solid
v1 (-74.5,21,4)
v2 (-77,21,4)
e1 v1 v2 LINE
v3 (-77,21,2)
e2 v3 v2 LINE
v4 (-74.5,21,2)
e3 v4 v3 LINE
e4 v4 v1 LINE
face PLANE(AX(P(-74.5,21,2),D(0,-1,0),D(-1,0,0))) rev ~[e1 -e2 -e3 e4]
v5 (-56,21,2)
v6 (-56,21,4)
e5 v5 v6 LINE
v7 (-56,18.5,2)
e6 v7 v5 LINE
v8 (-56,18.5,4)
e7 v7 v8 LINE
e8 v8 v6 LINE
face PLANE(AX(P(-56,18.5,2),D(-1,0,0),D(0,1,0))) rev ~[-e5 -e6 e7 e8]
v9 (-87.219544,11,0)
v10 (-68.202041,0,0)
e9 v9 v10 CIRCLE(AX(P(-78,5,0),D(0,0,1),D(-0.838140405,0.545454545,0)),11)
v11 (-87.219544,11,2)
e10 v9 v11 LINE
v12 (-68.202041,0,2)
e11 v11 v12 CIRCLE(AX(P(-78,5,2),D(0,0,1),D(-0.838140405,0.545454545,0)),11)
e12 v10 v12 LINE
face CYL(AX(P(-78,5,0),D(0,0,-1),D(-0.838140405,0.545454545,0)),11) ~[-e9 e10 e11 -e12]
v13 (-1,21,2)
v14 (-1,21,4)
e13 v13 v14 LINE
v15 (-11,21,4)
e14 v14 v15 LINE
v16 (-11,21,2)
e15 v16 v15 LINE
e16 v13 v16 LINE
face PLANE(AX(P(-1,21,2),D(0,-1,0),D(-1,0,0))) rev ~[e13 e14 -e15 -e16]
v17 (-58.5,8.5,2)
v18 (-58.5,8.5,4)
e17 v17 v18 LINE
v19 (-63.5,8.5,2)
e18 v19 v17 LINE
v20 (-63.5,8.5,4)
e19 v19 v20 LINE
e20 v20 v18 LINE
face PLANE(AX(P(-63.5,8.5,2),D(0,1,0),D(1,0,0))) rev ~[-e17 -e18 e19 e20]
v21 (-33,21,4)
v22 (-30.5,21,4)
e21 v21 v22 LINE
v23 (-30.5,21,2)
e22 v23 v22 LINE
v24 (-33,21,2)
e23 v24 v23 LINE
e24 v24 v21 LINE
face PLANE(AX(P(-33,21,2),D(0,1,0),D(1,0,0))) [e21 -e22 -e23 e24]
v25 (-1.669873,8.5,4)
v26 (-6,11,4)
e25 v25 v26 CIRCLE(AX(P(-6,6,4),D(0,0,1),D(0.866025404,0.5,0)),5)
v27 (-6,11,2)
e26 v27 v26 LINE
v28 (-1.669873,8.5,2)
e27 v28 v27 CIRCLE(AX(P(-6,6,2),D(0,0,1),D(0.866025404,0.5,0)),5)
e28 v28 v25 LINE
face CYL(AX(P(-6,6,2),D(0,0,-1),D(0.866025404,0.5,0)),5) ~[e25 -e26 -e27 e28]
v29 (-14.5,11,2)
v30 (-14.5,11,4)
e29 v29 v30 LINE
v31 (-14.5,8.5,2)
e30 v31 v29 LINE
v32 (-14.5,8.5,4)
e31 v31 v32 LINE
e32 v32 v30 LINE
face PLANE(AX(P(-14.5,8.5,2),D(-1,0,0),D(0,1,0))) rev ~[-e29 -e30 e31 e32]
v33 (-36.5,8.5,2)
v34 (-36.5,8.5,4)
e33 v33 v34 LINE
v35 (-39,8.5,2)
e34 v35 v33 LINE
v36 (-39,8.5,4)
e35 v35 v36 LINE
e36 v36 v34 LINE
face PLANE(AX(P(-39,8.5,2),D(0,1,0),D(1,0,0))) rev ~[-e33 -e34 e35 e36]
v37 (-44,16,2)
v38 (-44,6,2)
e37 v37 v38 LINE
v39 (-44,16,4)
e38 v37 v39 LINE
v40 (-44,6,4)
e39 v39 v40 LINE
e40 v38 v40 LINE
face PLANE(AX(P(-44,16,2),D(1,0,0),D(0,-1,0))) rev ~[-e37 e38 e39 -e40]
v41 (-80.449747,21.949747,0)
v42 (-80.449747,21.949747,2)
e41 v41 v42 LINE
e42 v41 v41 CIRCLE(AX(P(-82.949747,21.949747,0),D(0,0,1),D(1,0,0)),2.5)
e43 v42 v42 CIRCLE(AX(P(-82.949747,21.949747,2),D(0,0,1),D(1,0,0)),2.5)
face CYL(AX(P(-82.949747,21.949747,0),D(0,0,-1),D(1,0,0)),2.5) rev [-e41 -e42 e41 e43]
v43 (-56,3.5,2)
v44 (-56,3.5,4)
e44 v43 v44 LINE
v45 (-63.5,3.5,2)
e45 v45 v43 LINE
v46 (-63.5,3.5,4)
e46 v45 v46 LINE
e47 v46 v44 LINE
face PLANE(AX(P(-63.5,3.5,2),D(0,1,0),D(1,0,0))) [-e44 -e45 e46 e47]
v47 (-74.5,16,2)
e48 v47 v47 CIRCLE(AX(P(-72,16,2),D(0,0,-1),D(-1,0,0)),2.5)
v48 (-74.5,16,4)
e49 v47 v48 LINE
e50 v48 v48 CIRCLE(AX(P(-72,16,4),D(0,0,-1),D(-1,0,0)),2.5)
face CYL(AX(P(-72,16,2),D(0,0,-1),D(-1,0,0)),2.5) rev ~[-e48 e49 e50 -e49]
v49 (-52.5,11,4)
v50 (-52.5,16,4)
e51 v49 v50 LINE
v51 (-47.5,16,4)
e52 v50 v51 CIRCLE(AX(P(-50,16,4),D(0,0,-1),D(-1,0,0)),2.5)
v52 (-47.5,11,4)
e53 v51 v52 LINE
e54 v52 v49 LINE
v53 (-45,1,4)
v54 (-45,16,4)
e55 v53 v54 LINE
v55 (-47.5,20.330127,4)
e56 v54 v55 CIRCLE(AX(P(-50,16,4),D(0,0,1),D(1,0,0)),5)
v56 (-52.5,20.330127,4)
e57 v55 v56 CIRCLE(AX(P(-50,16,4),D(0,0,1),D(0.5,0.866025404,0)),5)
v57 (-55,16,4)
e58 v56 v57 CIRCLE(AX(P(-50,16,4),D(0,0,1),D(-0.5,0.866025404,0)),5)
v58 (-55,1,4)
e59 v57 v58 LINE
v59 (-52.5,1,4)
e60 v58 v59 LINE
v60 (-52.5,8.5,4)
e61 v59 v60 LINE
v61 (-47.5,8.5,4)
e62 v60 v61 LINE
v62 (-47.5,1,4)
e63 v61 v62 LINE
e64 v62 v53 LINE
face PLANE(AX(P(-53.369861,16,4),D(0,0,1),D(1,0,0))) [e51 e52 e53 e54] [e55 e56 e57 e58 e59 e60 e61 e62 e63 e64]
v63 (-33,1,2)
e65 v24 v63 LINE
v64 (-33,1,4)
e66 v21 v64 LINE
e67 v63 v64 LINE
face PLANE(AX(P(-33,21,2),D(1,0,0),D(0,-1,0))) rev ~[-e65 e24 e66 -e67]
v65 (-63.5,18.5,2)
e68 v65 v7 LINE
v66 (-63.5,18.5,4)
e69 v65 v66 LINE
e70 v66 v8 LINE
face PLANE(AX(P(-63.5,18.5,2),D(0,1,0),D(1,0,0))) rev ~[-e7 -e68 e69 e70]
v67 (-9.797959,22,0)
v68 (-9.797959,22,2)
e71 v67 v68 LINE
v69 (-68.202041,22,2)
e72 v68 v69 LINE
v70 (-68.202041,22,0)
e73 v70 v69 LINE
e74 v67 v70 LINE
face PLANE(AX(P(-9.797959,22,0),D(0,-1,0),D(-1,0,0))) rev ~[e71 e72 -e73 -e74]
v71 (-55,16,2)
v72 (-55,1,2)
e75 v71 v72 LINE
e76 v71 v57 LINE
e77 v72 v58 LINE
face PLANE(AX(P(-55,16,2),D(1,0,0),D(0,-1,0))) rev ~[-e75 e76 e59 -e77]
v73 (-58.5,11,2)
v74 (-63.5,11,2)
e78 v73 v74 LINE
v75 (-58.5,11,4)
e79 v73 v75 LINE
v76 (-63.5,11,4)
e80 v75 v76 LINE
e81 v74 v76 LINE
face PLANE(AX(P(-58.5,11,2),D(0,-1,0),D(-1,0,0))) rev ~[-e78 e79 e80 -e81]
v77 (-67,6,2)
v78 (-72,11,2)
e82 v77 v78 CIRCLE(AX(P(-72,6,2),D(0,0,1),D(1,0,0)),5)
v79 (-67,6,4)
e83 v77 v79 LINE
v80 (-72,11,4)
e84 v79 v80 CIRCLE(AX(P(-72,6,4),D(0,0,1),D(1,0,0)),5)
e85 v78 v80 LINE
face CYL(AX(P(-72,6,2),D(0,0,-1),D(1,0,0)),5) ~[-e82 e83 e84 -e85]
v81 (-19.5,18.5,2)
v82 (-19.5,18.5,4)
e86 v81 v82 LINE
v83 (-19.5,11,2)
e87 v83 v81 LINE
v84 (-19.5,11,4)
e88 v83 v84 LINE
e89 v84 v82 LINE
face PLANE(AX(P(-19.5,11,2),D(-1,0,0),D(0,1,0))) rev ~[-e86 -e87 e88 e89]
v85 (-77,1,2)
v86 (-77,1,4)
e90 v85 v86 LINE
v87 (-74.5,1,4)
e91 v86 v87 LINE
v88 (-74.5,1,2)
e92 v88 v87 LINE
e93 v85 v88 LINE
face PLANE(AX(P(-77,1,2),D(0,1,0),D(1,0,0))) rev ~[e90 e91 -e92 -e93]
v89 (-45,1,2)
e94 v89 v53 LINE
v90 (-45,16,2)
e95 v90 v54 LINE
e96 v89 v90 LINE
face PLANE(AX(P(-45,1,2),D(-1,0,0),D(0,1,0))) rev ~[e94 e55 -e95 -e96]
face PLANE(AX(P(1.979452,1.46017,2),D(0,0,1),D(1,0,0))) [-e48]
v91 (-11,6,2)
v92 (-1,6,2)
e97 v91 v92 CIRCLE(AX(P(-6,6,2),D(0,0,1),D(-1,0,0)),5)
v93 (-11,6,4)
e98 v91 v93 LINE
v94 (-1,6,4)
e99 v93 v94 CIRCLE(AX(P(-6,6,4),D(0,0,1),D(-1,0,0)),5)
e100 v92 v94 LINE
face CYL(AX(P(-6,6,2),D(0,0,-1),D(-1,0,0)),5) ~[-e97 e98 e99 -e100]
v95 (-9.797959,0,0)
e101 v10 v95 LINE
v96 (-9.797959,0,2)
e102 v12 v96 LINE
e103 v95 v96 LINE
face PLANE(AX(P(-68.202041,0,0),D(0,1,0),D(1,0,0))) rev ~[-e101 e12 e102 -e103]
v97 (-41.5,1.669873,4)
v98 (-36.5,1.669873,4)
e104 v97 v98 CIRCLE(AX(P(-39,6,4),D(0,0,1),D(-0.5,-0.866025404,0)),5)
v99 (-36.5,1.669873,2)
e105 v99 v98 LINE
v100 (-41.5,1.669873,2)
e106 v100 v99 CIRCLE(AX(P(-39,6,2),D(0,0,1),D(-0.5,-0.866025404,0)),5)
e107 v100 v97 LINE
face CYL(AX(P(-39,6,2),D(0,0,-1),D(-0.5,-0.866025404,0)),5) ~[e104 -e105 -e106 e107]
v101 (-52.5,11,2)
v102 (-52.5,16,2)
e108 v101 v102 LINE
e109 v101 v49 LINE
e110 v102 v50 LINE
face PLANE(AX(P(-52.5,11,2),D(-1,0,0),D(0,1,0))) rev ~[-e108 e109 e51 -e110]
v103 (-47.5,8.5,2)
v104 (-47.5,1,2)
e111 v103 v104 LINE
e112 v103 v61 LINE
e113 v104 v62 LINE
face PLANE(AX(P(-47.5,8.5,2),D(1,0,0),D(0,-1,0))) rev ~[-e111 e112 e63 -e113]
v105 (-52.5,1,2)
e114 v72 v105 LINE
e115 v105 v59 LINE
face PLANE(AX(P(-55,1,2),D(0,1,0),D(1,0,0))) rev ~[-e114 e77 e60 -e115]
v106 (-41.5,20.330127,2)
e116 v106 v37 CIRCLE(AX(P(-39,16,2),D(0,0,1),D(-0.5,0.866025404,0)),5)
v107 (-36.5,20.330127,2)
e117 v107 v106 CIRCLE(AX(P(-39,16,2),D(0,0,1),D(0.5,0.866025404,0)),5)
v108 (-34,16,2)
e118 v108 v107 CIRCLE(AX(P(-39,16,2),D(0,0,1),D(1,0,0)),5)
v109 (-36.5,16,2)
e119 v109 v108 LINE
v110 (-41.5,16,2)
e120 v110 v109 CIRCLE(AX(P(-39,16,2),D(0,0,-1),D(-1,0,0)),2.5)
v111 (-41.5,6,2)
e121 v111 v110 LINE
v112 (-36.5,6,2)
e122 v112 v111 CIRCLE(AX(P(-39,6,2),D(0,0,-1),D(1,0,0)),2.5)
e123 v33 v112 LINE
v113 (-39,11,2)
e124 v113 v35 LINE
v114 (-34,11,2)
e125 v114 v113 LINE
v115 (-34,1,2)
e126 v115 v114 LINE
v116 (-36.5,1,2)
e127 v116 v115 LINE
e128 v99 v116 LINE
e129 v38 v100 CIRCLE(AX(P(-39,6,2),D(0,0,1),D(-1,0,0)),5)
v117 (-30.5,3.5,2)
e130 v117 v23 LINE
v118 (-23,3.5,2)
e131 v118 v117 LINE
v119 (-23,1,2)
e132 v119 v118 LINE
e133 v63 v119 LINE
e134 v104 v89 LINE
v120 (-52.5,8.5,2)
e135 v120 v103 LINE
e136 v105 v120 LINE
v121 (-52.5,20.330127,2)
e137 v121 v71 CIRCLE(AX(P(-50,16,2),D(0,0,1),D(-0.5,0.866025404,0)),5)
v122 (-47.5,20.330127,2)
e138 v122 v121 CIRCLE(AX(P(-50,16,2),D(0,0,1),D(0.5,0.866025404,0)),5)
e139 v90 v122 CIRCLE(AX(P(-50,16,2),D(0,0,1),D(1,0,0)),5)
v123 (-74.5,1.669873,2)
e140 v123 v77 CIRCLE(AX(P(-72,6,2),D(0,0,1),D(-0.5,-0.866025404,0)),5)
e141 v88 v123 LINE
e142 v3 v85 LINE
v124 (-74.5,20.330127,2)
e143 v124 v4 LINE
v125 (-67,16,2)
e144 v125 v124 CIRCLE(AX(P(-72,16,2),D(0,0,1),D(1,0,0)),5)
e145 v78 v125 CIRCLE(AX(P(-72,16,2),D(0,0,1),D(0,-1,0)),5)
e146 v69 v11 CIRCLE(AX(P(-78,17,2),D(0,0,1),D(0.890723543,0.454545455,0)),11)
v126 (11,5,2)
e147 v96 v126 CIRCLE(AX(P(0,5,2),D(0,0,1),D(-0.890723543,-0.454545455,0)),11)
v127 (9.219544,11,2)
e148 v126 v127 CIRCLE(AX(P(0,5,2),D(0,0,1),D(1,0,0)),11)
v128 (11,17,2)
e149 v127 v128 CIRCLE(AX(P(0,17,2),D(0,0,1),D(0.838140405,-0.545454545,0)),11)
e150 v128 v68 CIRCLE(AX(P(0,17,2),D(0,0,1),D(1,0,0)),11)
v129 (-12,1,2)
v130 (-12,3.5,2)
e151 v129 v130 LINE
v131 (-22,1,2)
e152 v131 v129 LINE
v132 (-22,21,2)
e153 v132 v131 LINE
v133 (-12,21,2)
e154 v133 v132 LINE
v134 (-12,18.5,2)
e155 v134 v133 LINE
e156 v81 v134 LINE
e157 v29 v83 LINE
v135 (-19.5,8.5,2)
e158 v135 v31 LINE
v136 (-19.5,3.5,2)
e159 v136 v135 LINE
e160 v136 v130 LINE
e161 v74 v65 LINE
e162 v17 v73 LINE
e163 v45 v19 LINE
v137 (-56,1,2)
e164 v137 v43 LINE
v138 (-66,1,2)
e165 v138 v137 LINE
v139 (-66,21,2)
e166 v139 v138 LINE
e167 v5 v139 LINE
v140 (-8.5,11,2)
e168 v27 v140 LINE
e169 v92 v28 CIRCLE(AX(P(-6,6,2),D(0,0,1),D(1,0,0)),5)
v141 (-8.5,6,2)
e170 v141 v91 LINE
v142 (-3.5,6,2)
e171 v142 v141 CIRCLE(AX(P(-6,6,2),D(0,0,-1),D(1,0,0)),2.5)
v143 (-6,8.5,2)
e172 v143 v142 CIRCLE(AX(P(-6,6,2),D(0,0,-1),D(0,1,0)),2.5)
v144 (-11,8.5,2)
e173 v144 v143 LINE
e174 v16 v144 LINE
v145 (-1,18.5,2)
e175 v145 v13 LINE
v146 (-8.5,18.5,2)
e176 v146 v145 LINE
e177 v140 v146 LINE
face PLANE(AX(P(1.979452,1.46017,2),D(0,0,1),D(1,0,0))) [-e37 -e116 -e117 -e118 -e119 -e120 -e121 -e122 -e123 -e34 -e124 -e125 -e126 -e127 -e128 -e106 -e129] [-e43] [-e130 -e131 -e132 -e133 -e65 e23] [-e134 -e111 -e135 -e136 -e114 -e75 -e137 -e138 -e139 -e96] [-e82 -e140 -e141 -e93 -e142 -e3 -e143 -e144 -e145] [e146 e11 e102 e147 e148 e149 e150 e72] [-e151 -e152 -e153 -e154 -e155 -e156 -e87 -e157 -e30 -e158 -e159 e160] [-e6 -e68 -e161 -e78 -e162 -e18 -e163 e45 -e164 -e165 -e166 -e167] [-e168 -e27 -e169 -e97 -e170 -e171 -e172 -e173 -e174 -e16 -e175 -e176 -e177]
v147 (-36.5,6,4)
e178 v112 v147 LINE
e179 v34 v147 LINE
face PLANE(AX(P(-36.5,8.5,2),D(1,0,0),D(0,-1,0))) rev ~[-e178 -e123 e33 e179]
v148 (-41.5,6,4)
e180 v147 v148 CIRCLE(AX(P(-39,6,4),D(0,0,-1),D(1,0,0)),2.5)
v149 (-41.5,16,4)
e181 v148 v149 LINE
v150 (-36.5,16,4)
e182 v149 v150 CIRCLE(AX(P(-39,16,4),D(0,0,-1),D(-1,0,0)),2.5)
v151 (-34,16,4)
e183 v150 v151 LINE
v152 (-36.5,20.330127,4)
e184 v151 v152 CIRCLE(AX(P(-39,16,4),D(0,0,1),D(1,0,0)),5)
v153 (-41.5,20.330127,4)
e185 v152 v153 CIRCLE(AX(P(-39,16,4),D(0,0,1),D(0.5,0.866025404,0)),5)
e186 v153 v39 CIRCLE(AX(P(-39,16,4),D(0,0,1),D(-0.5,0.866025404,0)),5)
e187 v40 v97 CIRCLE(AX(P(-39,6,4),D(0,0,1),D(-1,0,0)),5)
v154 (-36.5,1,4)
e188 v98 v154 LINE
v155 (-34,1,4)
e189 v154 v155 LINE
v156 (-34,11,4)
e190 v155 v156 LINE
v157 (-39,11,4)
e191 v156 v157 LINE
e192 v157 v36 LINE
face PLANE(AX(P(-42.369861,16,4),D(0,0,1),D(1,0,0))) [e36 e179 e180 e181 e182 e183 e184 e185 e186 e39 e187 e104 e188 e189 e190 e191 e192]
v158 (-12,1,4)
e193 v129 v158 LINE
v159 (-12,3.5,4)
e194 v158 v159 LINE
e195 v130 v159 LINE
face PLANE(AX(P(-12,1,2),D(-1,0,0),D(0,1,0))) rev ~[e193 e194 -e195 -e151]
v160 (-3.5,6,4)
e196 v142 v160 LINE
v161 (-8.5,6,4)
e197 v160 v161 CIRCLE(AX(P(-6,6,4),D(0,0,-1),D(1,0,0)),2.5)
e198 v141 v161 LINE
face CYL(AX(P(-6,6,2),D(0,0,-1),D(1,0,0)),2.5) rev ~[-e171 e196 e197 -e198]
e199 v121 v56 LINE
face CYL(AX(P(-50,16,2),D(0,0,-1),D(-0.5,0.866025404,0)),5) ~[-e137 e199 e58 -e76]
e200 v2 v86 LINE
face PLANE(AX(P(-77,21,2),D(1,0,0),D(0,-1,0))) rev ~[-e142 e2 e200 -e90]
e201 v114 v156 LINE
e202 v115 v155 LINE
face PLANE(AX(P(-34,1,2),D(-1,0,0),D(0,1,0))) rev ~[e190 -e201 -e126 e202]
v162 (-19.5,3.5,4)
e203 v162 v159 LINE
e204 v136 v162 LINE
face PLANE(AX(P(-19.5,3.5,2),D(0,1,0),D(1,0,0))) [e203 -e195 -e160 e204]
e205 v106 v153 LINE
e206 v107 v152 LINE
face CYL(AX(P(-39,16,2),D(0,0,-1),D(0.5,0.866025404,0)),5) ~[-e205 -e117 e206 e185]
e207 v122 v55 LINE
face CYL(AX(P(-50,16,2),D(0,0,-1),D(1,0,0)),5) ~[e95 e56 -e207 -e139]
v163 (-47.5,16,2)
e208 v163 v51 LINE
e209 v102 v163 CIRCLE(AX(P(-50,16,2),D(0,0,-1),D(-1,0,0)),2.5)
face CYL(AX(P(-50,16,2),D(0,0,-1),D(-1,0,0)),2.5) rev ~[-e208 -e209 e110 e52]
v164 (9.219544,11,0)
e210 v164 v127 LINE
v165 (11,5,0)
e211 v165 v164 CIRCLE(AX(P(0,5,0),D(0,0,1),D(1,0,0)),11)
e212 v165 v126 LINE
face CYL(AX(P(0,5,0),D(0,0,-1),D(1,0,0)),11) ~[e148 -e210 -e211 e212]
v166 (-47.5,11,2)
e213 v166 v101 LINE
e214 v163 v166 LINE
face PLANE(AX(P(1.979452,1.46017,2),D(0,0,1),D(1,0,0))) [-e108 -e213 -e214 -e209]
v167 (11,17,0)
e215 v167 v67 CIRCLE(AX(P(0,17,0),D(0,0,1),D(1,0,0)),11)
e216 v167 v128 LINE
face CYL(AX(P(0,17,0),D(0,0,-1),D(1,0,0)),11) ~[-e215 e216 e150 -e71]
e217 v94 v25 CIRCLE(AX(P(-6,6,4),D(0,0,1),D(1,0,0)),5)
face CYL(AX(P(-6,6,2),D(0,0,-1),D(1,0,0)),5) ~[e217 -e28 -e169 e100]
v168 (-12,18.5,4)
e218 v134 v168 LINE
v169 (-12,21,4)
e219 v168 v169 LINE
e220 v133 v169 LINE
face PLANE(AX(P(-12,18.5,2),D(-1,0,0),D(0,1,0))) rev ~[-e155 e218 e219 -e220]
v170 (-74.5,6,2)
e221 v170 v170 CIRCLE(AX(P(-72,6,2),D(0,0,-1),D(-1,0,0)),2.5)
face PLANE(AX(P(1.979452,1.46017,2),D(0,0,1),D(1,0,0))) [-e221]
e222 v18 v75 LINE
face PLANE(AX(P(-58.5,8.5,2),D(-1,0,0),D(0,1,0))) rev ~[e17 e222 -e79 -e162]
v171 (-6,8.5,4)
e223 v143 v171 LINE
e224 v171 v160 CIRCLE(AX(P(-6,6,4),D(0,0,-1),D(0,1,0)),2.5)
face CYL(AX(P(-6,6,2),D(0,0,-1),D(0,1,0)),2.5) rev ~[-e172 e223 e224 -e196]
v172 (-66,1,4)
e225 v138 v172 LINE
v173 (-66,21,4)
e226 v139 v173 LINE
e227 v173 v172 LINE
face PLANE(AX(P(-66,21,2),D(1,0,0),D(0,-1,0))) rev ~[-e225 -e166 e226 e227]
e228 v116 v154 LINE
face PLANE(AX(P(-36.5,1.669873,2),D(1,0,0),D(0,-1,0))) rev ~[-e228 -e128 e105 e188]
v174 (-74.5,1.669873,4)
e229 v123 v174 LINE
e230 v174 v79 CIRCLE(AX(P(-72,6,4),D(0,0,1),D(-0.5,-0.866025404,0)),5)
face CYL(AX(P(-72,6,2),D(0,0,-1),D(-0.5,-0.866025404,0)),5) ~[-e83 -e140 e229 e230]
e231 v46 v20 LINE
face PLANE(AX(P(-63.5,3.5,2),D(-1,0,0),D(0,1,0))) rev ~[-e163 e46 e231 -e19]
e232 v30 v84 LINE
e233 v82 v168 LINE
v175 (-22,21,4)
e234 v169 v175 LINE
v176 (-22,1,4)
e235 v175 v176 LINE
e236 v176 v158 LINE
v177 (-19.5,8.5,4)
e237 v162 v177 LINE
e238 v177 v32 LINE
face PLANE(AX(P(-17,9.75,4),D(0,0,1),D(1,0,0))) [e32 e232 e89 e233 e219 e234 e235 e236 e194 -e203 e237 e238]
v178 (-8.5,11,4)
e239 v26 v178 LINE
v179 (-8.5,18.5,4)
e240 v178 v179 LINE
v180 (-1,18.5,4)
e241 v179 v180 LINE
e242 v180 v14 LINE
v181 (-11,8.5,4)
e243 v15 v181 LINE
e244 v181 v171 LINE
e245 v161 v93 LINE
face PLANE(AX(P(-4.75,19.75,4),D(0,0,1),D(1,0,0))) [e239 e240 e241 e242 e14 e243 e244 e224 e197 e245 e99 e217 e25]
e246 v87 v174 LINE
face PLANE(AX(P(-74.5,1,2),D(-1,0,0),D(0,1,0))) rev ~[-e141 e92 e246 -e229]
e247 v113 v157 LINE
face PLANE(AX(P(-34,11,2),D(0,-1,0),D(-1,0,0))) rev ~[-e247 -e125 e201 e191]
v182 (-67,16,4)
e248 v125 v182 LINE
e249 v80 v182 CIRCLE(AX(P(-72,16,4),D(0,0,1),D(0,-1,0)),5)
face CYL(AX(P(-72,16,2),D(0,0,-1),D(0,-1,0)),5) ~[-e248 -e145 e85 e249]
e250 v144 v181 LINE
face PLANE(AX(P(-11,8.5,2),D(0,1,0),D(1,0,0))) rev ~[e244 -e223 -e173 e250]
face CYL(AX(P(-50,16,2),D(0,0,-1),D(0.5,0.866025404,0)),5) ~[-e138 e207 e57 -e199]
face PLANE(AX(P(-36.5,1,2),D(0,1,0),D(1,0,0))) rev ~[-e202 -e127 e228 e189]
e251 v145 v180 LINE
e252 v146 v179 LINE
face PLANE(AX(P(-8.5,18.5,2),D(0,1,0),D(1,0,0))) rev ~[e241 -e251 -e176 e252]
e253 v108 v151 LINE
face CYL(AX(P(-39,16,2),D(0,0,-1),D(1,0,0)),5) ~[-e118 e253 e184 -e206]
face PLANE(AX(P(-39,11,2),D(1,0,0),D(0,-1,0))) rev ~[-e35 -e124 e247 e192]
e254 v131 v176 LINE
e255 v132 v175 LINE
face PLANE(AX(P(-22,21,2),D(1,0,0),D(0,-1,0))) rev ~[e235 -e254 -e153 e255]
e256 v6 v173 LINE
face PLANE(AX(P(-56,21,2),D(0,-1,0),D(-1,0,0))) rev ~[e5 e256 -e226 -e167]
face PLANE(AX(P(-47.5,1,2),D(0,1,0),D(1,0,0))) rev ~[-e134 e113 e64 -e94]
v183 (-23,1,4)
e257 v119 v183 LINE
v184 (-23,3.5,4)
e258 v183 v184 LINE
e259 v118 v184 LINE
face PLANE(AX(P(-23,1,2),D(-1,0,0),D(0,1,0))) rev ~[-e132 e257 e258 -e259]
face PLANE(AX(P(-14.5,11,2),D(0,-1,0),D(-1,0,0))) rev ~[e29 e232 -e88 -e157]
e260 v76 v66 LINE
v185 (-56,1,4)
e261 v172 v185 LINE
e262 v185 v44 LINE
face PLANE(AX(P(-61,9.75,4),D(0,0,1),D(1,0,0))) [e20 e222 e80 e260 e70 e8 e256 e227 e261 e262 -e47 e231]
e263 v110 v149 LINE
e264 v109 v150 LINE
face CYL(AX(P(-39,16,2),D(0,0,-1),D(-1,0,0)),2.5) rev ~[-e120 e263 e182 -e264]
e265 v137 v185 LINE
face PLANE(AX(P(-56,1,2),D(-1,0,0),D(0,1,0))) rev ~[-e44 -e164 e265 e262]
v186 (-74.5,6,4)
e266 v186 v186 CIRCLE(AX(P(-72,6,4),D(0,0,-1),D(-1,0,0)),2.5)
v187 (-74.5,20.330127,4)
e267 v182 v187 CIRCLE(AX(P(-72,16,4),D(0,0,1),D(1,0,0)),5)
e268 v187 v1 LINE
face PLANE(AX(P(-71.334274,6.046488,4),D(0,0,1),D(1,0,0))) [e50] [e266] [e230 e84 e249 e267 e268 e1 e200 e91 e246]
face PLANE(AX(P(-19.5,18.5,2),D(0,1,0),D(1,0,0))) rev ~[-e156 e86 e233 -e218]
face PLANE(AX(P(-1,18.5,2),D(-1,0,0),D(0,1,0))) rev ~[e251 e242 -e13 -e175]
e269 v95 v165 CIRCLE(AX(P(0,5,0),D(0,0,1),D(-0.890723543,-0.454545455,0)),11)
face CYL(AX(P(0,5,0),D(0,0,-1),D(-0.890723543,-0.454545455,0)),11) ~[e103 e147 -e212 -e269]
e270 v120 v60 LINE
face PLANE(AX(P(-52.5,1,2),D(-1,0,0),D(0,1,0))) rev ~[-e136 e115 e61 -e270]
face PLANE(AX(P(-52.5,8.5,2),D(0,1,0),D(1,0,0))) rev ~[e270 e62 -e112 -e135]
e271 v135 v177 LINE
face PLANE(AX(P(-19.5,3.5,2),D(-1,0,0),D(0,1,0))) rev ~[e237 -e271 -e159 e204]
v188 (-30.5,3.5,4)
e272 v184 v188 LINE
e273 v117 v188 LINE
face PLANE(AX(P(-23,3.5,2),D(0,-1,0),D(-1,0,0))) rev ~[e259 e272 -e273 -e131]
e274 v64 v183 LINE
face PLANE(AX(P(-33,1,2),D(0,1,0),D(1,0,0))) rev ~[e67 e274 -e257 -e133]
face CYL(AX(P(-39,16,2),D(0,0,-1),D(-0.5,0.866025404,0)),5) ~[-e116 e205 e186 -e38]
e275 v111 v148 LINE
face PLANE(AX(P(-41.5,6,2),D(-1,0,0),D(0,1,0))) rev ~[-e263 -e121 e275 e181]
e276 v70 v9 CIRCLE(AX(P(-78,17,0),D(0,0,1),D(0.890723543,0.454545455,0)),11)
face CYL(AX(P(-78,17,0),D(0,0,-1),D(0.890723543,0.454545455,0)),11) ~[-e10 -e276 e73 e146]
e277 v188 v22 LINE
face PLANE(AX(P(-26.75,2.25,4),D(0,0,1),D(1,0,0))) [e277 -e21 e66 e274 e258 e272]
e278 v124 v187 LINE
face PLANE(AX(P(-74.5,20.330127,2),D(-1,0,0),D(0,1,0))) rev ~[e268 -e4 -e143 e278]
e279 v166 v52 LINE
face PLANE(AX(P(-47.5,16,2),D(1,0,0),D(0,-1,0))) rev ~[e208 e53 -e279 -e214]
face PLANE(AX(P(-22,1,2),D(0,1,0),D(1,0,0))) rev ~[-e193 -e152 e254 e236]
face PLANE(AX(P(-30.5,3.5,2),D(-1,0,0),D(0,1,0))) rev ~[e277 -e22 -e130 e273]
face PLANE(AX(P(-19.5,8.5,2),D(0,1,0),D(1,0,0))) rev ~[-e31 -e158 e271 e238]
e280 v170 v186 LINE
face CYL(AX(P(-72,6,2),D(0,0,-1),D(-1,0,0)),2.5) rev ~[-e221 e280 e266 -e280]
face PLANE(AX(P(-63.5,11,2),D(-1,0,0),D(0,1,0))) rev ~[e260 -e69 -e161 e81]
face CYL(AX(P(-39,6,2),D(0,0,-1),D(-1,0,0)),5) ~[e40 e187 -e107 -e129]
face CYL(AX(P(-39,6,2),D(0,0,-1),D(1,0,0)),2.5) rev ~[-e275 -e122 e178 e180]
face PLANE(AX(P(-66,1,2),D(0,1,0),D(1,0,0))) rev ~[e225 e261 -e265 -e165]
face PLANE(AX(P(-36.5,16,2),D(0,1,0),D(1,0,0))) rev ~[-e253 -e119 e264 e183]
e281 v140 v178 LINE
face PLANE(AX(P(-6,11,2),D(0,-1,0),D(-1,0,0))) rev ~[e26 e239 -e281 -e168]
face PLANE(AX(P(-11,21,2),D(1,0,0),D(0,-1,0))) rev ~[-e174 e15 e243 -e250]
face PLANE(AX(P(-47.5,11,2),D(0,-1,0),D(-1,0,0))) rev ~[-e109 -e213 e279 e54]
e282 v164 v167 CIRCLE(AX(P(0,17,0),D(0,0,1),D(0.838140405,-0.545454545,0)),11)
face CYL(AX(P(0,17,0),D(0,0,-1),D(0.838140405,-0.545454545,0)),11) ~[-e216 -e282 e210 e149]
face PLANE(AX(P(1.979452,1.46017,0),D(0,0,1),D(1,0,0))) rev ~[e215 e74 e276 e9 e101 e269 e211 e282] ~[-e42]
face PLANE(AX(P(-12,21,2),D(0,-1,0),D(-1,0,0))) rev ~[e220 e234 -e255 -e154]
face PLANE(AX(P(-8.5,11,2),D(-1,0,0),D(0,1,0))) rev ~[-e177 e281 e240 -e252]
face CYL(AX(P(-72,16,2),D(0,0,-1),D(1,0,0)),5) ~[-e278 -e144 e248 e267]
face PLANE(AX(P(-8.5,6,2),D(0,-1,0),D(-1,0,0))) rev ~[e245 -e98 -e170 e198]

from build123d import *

# Parameters (mm, degrees)
F0_R     = 2.5
F1_DEPTH = 2
F2_W     = 7.5
F2_H     = 2.5
F2_W_2   = 2.5
F2_H_2   = 7.5
F2_W_3   = 5
F2_H_3   = 5
F2_H_4   = 17.5
F3_DEPTH = 2


with BuildPart() as f1:
    # F0 (on Top) → F1 (new body)
    with BuildSketch(Plane.XY):
        with BuildLine():
            Line((0, 6), (0, 0))
            Line((0, 0), (-9.7979589711, 0))
            ThreePointArc((-9.7979589711, 0), (2.5712303784, -5.695268783), (11, 5))
            ThreePointArc((11, 5), (10.5454964091, 8.129297922), (9.2195444573, 11))
            ThreePointArc((9.2195444573, 11), (5.2440442409, 7.3304601971), (0, 6))
        make_face()
        with BuildLine():
            Line((-9.7979589711, 0), (0, 0))
            Line((0, 0), (0, 6))
            ThreePointArc((0, 6), (-5.2440442409, 7.3304601971), (-9.2195444573, 11))
            ThreePointArc((-9.2195444573, 11), (-10.9848240388, 5.5776165142), (-9.7979589711, 0))
        make_face()
        with BuildLine():
            Line((-68.2020410289, 0), (-9.7979589711, 0))
            ThreePointArc((-9.7979589711, 0), (-10.9848240388, 5.5776165142), (-9.2195444573, 11))
            ThreePointArc((-9.2195444573, 11), (-10.9848240388, 16.4223834858), (-9.7979589711, 22))
            Line((-9.7979589711, 22), (-68.2020410289, 22))
            ThreePointArc((-68.2020410289, 22), (-67.304731217, 19.5712303784), (-67, 17))
            ThreePointArc((-67, 17), (-67.4545035909, 13.870702078), (-68.7804555427, 11))
            ThreePointArc((-68.7804555427, 11), (-67.4545035909, 8.129297922), (-67, 5))
            ThreePointArc((-67, 5), (-67.304731217, 2.4287696216), (-68.2020410289, 0))
        make_face()
        with BuildLine():
            Line((0, 16), (0, 6))
            ThreePointArc((0, 6), (5.2440442409, 7.3304601971), (9.2195444573, 11))
            ThreePointArc((9.2195444573, 11), (5.2440442409, 14.6695398029), (0, 16))
        make_face()
        with BuildLine():
            ThreePointArc((-87.2195444573, 11), (-83.5075984637, -4.5218884242), (-68.2020410289, 0))
            Line((-68.2020410289, 0), (-78, 0))
            Line((-78, 0), (-78, 6))
            ThreePointArc((-78, 6), (-83.2440442409, 7.3304601971), (-87.2195444573, 11))
        make_face()
        with BuildLine():
            Line((-78, 0), (-68.2020410289, 0))
            ThreePointArc((-68.2020410289, 0), (-67.304731217, 2.4287696216), (-67, 5))
            ThreePointArc((-67, 5), (-67.4545035909, 8.129297922), (-68.7804555427, 11))
            ThreePointArc((-68.7804555427, 11), (-72.7559557591, 7.3304601971), (-78, 6))
            Line((-78, 6), (-78, 0))
        make_face()
        with BuildLine():
            ThreePointArc((-9.7979589711, 22), (-10.9848240388, 16.4223834858), (-9.2195444573, 11))
            ThreePointArc((-9.2195444573, 11), (-5.2440442409, 14.6695398029), (0, 16))
            Line((0, 16), (0, 22))
            Line((0, 22), (-9.7979589711, 22))
        make_face()
        with BuildLine():
            Line((0, 22), (0, 16))
            ThreePointArc((0, 16), (5.2440442409, 14.6695398029), (9.2195444573, 11))
            ThreePointArc((9.2195444573, 11), (10.5454964091, 13.870702078), (11, 17))
            ThreePointArc((11, 17), (2.5712303784, 27.695268783), (-9.7979589711, 22))
            Line((-9.7979589711, 22), (0, 22))
        make_face()
        with BuildLine():
            ThreePointArc((-78, 16), (-83.2440442409, 14.6695398029), (-87.2195444573, 11))
            ThreePointArc((-87.2195444573, 11), (-83.2440442409, 7.3304601971), (-78, 6))
            Line((-78, 6), (-78, 16))
        make_face()
        with BuildLine():
            ThreePointArc((-68.2020410289, 22), (-83.5075984637, 26.5218884242), (-87.2195444573, 11))
            ThreePointArc((-87.2195444573, 11), (-83.2440442409, 14.6695398029), (-78, 16))
            Line((-78, 16), (-78, 22))
            Line((-78, 22), (-68.2020410289, 22))
        make_face()
        with Locations((-82.9497474683, 21.9497474683)):
            Circle(F0_R, mode=Mode.SUBTRACT)
        with BuildLine():
            ThreePointArc((-67, 17), (-67.304731217, 19.5712303784), (-68.2020410289, 22))
            Line((-68.2020410289, 22), (-78, 22))
            Line((-78, 22), (-78, 16))
            ThreePointArc((-78, 16), (-72.7559557591, 14.6695398029), (-68.7804555427, 11))
            ThreePointArc((-68.7804555427, 11), (-67.4545035909, 13.870702078), (-67, 17))
        make_face()
        with BuildLine():
            Line((-78, 16), (-78, 6))
            ThreePointArc((-78, 6), (-72.7559557591, 7.3304601971), (-68.7804555427, 11))
            ThreePointArc((-68.7804555427, 11), (-72.7559557591, 14.6695398029), (-78, 16))
        make_face()
        with BuildLine():
            ThreePointArc((-9.2195444573, 11), (-5.2440442409, 7.3304601971), (0, 6))
            Line((0, 6), (0, 16))
            ThreePointArc((0, 16), (-5.2440442409, 14.6695398029), (-9.2195444573, 11))
        make_face()
    extrude(amount=F1_DEPTH)

    # F2 (on face) → F3 (join)
    with BuildSketch(Plane.XY.offset(2)):
        with Locations((-4.75, 19.75)):
            Rectangle(F2_W, F2_H)
        with Locations((-9.75, 19.75)):
            Rectangle(F2_W_2, F2_H)
        with Locations((-9.75, 14.75)):
            Rectangle(F2_W_2, F2_H_2)
        with BuildLine():
            Line((-8.5, 11), (-11, 11))
            Line((-11, 11), (-11, 8.5))
            Line((-11, 8.5), (-10.3301270189, 8.5))
            ThreePointArc((-10.3301270189, 8.5), (-8.5, 10.3301270189), (-6, 11))
            Line((-6, 11), (-8.5, 11))
        make_face()
        with BuildLine():
            ThreePointArc((-1.6698729811, 8.5), (-3.5, 10.3301270189), (-6, 11))
            ThreePointArc((-6, 11), (-8.5, 10.3301270189), (-10.3301270189, 8.5))
            Line((-10.3301270189, 8.5), (-6, 8.5))
            Line((-6, 8.5), (-1.6698729811, 8.5))
        make_face()
        with BuildLine():
            Line((-8.5, 6), (-11, 6))
            ThreePointArc((-11, 6), (-6, 1), (-1, 6))
            ThreePointArc((-1, 6), (-1.1703708686, 7.2940952255), (-1.6698729811, 8.5))
            Line((-1.6698729811, 8.5), (-6, 8.5))
            ThreePointArc((-6, 8.5), (-4.232233047, 7.767766953), (-3.5, 6))
            ThreePointArc((-3.5, 6), (-6, 3.5), (-8.5, 6))
        make_face()
        with Locations((-17, 9.75)):
            Rectangle(F2_W_3, F2_H)
        with Locations((-20.75, 9.75)):
            Rectangle(F2_W_2, F2_H)
        with Locations((-20.75, 14.75)):
            Rectangle(F2_W_2, F2_H_2)
        with Locations((-20.75, 19.75)):
            Rectangle(F2_W_2, F2_H)
        with Locations((-15.75, 19.75)):
            Rectangle(F2_W, F2_H)
        with Locations((-20.75, 6)):
            Rectangle(F2_W_2, F2_H_3)
        with Locations((-20.75, 2.25)):
            Rectangle(F2_W_2, F2_H)
        with Locations((-15.75, 2.25)):
            Rectangle(F2_W, F2_H)
        with Locations((-26.75, 2.25)):
            Rectangle(F2_W, F2_H)
        with Locations((-31.75, 2.25)):
            Rectangle(F2_W_2, F2_H)
        with Locations((-31.75, 12.25)):
            Rectangle(F2_W_2, F2_H_4)
        with BuildLine():
            Line((-41.5, 16), (-41.5, 20.3301270189))
            ThreePointArc((-41.5, 20.3301270189), (-43.3301270189, 18.5), (-44, 16))
            ThreePointArc((-44, 16), (-43.3301270189, 13.5), (-41.5, 11.6698729811))
            Line((-41.5, 11.6698729811), (-41.5, 16))
        make_face()
        with BuildLine():
            ThreePointArc((-41.5, 11.6698729811), (-43.3301270189, 13.5), (-44, 16))
            Line((-44, 16), (-44, 11))
            Line((-44, 11), (-41.5, 11))
            Line((-41.5, 11), (-41.5, 11.6698729811))
        make_face()
        with BuildLine():
            ThreePointArc((-43.3301270189, 8.5), (-42.5355339059, 9.5355339059), (-41.5, 10.3301270189))
            Line((-41.5, 10.3301270189), (-41.5, 11))
            Line((-41.5, 11), (-44, 11))
            Line((-44, 11), (-44, 8.5))
            Line((-44, 8.5), (-43.3301270189, 8.5))
        make_face()
        with BuildLine():
            Line((-41.5, 8.5), (-43.3301270189, 8.5))
            ThreePointArc((-43.3301270189, 8.5), (-43.8296291314, 7.2940952255), (-44, 6))
            ThreePointArc((-44, 6), (-43.3301270189, 3.5), (-41.5, 1.6698729811))
            Line((-41.5, 1.6698729811), (-41.5, 5.9999999784))
            Line((-41.5, 5.9999999784), (-41.5, 8.5))
        make_face()
        with BuildLine():
            ThreePointArc((-44, 6), (-43.8296291314, 7.2940952255), (-43.3301270189, 8.5))
            Line((-43.3301270189, 8.5), (-44, 8.5))
            Line((-44, 8.5), (-44, 6))
        make_face()
        with BuildLine():
            Line((-41.5, 8.5), (-41.5, 10.3301270189))
            ThreePointArc((-41.5, 10.3301270189), (-42.5355339059, 9.5355339059), (-43.3301270189, 8.5))
            Line((-43.3301270189, 8.5), (-41.5, 8.5))
        make_face()
        with BuildLine():
            ThreePointArc((-36.5, 10.3301270189), (-37.7059047745, 10.8296291314), (-39, 11))
            Line((-39, 11), (-39, 8.5))
            Line((-39, 8.5), (-36.5, 8.5))
            Line((-36.5, 8.5), (-36.5, 10.3301270189))
        make_face()
        with BuildLine():
            Line((-36.5, 11), (-39, 11))
            ThreePointArc((-39, 11), (-37.7059047745, 10.8296291314), (-36.5, 10.3301270189))
            Line((-36.5, 10.3301270189), (-36.5, 11))
        make_face()
        with BuildLine():
            Line((-34, 11), (-36.5, 11))
            Line((-36.5, 11), (-36.5, 10.3301270189))
            ThreePointArc((-36.5, 10.3301270189), (-35.4644660941, 9.5355339059), (-34.6698729811, 8.5))
            Line((-34.6698729811, 8.5), (-34, 8.5))
            Line((-34, 8.5), (-34, 11))
        make_face()
        with BuildLine():
            ThreePointArc((-34.6698729811, 8.5), (-35.4644660941, 9.5355339059), (-36.5, 10.3301270189))
            Line((-36.5, 10.3301270189), (-36.5, 8.5))
            Line((-36.5, 8.5), (-34.6698729811, 8.5))
        make_face()
        with BuildLine():
            ThreePointArc((-34, 6), (-34.1703708686, 7.2940952255), (-34.6698729811, 8.5))
            Line((-34.6698729811, 8.5), (-36.5, 8.5))
            Line((-36.5, 8.5), (-36.5, 6))
            Line((-36.5, 6), (-36.5, 1.6698729811))
            ThreePointArc((-36.5, 1.6698729811), (-34.6698729811, 3.5), (-34, 6))
        make_face()
        with BuildLine():
            Line((-34, 8.5), (-34.6698729811, 8.5))
            ThreePointArc((-34.6698729811, 8.5), (-34.1703708686, 7.2940952255), (-34, 6))
            Line((-34, 6), (-34, 8.5))
        make_face()
        with BuildLine():
            Line((-34, 1), (-34, 6))
            ThreePointArc((-34, 6), (-34.6698729811, 3.5), (-36.5, 1.6698729811))
            Line((-36.5, 1.6698729811), (-36.5, 1))
            Line((-36.5, 1), (-34, 1))
        make_face()
        with BuildLine():
            Line((-36.5, 1.6698729811), (-36.5, 6))
            ThreePointArc((-36.5, 6), (-38.9999999892, 3.5), (-41.5, 5.9999999784))
            Line((-41.5, 5.9999999784), (-41.5, 1.6698729811))
            ThreePointArc((-41.5, 1.6698729811), (-39, 1), (-36.5, 1.6698729811))
        make_face()
        with BuildLine():
            Line((-36.5, 16), (-34, 16))
            ThreePointArc((-34, 16), (-34.6698729811, 18.5), (-36.5, 20.3301270189))
            Line((-36.5, 20.3301270189), (-36.5, 16))
        make_face()
        with BuildLine():
            Line((-36.5, 16), (-36.5, 20.3301270189))
            ThreePointArc((-36.5, 20.3301270189), (-39, 21), (-41.5, 20.3301270189))
            Line((-41.5, 20.3301270189), (-41.5, 16))
            ThreePointArc((-41.5, 16), (-39, 18.5), (-36.5, 16))
        make_face()
        with BuildLine():
            ThreePointArc((-52.5, 20.3301270189), (-54.3301270189, 18.5), (-55, 16))
            ThreePointArc((-55, 16), (-54.3301270189, 13.5), (-52.5, 11.6698729811))
            Line((-52.5, 11.6698729811), (-52.5, 16))
            Line((-52.5, 16), (-52.5, 20.3301270189))
        make_face()
        with BuildLine():
            Line((-55, 16), (-55, 11))
            Line((-55, 11), (-52.5, 11))
            Line((-52.5, 11), (-52.5, 11.6698729811))
            ThreePointArc((-52.5, 11.6698729811), (-54.3301270189, 13.5), (-55, 16))
        make_face()
        with Locations((-53.75, 9.75)):
            Rectangle(F2_W_2, F2_H)
        with Locations((-53.75, 4.75)):
            Rectangle(F2_W_2, F2_H_2)
        with Locations((-46.25, 4.75)):
            Rectangle(F2_W_2, F2_H_2)
        with Locations((-46.25, 9.75)):
            Rectangle(F2_W_2, F2_H)
        with BuildLine():
            Line((-47.5, 11.6698729811), (-47.5, 11))
            Line((-47.5, 11), (-45, 11))
            Line((-45, 11), (-45, 16))
            ThreePointArc((-45, 16), (-45.6698729811, 13.5), (-47.5, 11.6698729811))
        make_face()
        with BuildLine():
            ThreePointArc((-45, 16), (-45.6698729811, 18.5), (-47.5, 20.3301270189))
            Line((-47.5, 20.3301270189), (-47.5, 16))
            Line((-47.5, 16), (-47.5, 11.6698729811))
            ThreePointArc((-47.5, 11.6698729811), (-45.6698729811, 13.5), (-45, 16))
        make_face()
        with BuildLine():
            ThreePointArc((-47.5, 20.3301270189), (-50, 21), (-52.5, 20.3301270189))
            Line((-52.5, 20.3301270189), (-52.5, 16))
            ThreePointArc((-52.5, 16), (-50, 18.5), (-47.5, 16))
            Line((-47.5, 16), (-47.5, 20.3301270189))
        make_face()
        Polygon((-50, 11), (-52.5, 11), (-52.5, 8.5), (-47.5, 8.5), (-47.5, 11), align=None)
        with Locations((-61, 9.7500000475)):
            Rectangle(F2_W_3, F2_H)
        with Locations((-64.75, 9.7500000475)):
            Rectangle(F2_W_2, F2_H)
        with Locations((-64.75, 14.7500000475)):
            Rectangle(F2_W_2, F2_H_2)
        with Locations((-64.75, 19.7500000475)):
            Rectangle(F2_W_2, F2_H)
        with Locations((-59.75, 19.7500000475)):
            Rectangle(F2_W, F2_H)
        with Locations((-64.75, 6.0000000475)):
            Rectangle(F2_W_2, F2_H_3)
        with Locations((-64.75, 2.2500000475)):
            Rectangle(F2_W_2, F2_H)
        with Locations((-59.75, 2.2500000475)):
            Rectangle(F2_W, F2_H)
        with BuildLine():
            ThreePointArc((-67, 6), (-68.4644660941, 9.5355339059), (-72, 11))
            ThreePointArc((-72, 11), (-73.2940952255, 10.8296291314), (-74.5, 10.3301270189))
            Line((-74.5, 10.3301270189), (-74.5, 6))
            Line((-74.5, 6), (-74.5, 1.6698729811))
            ThreePointArc((-74.5, 1.6698729811), (-69.5, 1.6698729811), (-67, 6))
        make_face()
        with BuildLine():
            ThreePointArc((-69.5, 6), (-72, 3.5), (-74.5, 6))
            ThreePointArc((-74.5, 6), (-72, 8.5), (-69.5, 6))
        make_face(mode=Mode.SUBTRACT)
        with BuildLine():
            ThreePointArc((-72, 11), (-68.4644660941, 12.4644660941), (-67, 16))
            ThreePointArc((-67, 16), (-69.5, 20.3301270189), (-74.5, 20.3301270189))
            Line((-74.5, 20.3301270189), (-74.5, 16))
            Line((-74.5, 16), (-74.5, 11.6698729811))
            ThreePointArc((-74.5, 11.6698729811), (-73.2940952255, 11.1703708686), (-72, 11))
        make_face()
        with BuildLine():
            ThreePointArc((-69.5, 16), (-72, 13.5), (-74.5, 16))
            ThreePointArc((-74.5, 16), (-72, 18.5), (-69.5, 16))
        make_face(mode=Mode.SUBTRACT)
        with BuildLine():
            ThreePointArc((-74.5, 10.3301270189), (-73.2940952255, 10.8296291314), (-72, 11))
            ThreePointArc((-72, 11), (-73.2940952255, 11.1703708686), (-74.5, 11.6698729811))
            Line((-74.5, 11.6698729811), (-74.5, 10.3301270189))
        make_face()
        with BuildLine():
            Line((-74.5, 16), (-74.5, 20.3301270189))
            ThreePointArc((-74.5, 20.3301270189), (-76.3301270189, 18.5), (-77, 16))
            ThreePointArc((-77, 16), (-76.3301270189, 13.5), (-74.5, 11.6698729811))
            Line((-74.5, 11.6698729811), (-74.5, 16))
        make_face()
        with BuildLine():
            ThreePointArc((-74.5, 11.6698729811), (-76.3301270189, 13.5), (-77, 16))
            Line((-77, 16), (-77, 6))
            ThreePointArc((-77, 6), (-76.3301270189, 8.5), (-74.5, 10.3301270189))
            Line((-74.5, 10.3301270189), (-74.5, 11.6698729811))
        make_face()
        with BuildLine():
            Line((-74.5, 6), (-74.5, 10.3301270189))
            ThreePointArc((-74.5, 10.3301270189), (-76.3301270189, 8.5), (-77, 6))
            ThreePointArc((-77, 6), (-76.3301270189, 3.5), (-74.5, 1.6698729811))
            Line((-74.5, 1.6698729811), (-74.5, 6))
        make_face()
        with BuildLine():
            ThreePointArc((-74.5, 1.6698729811), (-76.3301270189, 3.5), (-77, 6))
            Line((-77, 6), (-77, 1))
            Line((-77, 1), (-74.5, 1))
            Line((-74.5, 1), (-74.5, 1.6698729811))
        make_face()
        with BuildLine():
            ThreePointArc((-77, 16), (-76.3301270189, 18.5), (-74.5, 20.3301270189))
            Line((-74.5, 20.3301270189), (-74.5, 21))
            Line((-74.5, 21), (-77, 21))
            Line((-77, 21), (-77, 16))
        make_face()
    extrude(amount=F3_DEPTH)


solid = f1.part
